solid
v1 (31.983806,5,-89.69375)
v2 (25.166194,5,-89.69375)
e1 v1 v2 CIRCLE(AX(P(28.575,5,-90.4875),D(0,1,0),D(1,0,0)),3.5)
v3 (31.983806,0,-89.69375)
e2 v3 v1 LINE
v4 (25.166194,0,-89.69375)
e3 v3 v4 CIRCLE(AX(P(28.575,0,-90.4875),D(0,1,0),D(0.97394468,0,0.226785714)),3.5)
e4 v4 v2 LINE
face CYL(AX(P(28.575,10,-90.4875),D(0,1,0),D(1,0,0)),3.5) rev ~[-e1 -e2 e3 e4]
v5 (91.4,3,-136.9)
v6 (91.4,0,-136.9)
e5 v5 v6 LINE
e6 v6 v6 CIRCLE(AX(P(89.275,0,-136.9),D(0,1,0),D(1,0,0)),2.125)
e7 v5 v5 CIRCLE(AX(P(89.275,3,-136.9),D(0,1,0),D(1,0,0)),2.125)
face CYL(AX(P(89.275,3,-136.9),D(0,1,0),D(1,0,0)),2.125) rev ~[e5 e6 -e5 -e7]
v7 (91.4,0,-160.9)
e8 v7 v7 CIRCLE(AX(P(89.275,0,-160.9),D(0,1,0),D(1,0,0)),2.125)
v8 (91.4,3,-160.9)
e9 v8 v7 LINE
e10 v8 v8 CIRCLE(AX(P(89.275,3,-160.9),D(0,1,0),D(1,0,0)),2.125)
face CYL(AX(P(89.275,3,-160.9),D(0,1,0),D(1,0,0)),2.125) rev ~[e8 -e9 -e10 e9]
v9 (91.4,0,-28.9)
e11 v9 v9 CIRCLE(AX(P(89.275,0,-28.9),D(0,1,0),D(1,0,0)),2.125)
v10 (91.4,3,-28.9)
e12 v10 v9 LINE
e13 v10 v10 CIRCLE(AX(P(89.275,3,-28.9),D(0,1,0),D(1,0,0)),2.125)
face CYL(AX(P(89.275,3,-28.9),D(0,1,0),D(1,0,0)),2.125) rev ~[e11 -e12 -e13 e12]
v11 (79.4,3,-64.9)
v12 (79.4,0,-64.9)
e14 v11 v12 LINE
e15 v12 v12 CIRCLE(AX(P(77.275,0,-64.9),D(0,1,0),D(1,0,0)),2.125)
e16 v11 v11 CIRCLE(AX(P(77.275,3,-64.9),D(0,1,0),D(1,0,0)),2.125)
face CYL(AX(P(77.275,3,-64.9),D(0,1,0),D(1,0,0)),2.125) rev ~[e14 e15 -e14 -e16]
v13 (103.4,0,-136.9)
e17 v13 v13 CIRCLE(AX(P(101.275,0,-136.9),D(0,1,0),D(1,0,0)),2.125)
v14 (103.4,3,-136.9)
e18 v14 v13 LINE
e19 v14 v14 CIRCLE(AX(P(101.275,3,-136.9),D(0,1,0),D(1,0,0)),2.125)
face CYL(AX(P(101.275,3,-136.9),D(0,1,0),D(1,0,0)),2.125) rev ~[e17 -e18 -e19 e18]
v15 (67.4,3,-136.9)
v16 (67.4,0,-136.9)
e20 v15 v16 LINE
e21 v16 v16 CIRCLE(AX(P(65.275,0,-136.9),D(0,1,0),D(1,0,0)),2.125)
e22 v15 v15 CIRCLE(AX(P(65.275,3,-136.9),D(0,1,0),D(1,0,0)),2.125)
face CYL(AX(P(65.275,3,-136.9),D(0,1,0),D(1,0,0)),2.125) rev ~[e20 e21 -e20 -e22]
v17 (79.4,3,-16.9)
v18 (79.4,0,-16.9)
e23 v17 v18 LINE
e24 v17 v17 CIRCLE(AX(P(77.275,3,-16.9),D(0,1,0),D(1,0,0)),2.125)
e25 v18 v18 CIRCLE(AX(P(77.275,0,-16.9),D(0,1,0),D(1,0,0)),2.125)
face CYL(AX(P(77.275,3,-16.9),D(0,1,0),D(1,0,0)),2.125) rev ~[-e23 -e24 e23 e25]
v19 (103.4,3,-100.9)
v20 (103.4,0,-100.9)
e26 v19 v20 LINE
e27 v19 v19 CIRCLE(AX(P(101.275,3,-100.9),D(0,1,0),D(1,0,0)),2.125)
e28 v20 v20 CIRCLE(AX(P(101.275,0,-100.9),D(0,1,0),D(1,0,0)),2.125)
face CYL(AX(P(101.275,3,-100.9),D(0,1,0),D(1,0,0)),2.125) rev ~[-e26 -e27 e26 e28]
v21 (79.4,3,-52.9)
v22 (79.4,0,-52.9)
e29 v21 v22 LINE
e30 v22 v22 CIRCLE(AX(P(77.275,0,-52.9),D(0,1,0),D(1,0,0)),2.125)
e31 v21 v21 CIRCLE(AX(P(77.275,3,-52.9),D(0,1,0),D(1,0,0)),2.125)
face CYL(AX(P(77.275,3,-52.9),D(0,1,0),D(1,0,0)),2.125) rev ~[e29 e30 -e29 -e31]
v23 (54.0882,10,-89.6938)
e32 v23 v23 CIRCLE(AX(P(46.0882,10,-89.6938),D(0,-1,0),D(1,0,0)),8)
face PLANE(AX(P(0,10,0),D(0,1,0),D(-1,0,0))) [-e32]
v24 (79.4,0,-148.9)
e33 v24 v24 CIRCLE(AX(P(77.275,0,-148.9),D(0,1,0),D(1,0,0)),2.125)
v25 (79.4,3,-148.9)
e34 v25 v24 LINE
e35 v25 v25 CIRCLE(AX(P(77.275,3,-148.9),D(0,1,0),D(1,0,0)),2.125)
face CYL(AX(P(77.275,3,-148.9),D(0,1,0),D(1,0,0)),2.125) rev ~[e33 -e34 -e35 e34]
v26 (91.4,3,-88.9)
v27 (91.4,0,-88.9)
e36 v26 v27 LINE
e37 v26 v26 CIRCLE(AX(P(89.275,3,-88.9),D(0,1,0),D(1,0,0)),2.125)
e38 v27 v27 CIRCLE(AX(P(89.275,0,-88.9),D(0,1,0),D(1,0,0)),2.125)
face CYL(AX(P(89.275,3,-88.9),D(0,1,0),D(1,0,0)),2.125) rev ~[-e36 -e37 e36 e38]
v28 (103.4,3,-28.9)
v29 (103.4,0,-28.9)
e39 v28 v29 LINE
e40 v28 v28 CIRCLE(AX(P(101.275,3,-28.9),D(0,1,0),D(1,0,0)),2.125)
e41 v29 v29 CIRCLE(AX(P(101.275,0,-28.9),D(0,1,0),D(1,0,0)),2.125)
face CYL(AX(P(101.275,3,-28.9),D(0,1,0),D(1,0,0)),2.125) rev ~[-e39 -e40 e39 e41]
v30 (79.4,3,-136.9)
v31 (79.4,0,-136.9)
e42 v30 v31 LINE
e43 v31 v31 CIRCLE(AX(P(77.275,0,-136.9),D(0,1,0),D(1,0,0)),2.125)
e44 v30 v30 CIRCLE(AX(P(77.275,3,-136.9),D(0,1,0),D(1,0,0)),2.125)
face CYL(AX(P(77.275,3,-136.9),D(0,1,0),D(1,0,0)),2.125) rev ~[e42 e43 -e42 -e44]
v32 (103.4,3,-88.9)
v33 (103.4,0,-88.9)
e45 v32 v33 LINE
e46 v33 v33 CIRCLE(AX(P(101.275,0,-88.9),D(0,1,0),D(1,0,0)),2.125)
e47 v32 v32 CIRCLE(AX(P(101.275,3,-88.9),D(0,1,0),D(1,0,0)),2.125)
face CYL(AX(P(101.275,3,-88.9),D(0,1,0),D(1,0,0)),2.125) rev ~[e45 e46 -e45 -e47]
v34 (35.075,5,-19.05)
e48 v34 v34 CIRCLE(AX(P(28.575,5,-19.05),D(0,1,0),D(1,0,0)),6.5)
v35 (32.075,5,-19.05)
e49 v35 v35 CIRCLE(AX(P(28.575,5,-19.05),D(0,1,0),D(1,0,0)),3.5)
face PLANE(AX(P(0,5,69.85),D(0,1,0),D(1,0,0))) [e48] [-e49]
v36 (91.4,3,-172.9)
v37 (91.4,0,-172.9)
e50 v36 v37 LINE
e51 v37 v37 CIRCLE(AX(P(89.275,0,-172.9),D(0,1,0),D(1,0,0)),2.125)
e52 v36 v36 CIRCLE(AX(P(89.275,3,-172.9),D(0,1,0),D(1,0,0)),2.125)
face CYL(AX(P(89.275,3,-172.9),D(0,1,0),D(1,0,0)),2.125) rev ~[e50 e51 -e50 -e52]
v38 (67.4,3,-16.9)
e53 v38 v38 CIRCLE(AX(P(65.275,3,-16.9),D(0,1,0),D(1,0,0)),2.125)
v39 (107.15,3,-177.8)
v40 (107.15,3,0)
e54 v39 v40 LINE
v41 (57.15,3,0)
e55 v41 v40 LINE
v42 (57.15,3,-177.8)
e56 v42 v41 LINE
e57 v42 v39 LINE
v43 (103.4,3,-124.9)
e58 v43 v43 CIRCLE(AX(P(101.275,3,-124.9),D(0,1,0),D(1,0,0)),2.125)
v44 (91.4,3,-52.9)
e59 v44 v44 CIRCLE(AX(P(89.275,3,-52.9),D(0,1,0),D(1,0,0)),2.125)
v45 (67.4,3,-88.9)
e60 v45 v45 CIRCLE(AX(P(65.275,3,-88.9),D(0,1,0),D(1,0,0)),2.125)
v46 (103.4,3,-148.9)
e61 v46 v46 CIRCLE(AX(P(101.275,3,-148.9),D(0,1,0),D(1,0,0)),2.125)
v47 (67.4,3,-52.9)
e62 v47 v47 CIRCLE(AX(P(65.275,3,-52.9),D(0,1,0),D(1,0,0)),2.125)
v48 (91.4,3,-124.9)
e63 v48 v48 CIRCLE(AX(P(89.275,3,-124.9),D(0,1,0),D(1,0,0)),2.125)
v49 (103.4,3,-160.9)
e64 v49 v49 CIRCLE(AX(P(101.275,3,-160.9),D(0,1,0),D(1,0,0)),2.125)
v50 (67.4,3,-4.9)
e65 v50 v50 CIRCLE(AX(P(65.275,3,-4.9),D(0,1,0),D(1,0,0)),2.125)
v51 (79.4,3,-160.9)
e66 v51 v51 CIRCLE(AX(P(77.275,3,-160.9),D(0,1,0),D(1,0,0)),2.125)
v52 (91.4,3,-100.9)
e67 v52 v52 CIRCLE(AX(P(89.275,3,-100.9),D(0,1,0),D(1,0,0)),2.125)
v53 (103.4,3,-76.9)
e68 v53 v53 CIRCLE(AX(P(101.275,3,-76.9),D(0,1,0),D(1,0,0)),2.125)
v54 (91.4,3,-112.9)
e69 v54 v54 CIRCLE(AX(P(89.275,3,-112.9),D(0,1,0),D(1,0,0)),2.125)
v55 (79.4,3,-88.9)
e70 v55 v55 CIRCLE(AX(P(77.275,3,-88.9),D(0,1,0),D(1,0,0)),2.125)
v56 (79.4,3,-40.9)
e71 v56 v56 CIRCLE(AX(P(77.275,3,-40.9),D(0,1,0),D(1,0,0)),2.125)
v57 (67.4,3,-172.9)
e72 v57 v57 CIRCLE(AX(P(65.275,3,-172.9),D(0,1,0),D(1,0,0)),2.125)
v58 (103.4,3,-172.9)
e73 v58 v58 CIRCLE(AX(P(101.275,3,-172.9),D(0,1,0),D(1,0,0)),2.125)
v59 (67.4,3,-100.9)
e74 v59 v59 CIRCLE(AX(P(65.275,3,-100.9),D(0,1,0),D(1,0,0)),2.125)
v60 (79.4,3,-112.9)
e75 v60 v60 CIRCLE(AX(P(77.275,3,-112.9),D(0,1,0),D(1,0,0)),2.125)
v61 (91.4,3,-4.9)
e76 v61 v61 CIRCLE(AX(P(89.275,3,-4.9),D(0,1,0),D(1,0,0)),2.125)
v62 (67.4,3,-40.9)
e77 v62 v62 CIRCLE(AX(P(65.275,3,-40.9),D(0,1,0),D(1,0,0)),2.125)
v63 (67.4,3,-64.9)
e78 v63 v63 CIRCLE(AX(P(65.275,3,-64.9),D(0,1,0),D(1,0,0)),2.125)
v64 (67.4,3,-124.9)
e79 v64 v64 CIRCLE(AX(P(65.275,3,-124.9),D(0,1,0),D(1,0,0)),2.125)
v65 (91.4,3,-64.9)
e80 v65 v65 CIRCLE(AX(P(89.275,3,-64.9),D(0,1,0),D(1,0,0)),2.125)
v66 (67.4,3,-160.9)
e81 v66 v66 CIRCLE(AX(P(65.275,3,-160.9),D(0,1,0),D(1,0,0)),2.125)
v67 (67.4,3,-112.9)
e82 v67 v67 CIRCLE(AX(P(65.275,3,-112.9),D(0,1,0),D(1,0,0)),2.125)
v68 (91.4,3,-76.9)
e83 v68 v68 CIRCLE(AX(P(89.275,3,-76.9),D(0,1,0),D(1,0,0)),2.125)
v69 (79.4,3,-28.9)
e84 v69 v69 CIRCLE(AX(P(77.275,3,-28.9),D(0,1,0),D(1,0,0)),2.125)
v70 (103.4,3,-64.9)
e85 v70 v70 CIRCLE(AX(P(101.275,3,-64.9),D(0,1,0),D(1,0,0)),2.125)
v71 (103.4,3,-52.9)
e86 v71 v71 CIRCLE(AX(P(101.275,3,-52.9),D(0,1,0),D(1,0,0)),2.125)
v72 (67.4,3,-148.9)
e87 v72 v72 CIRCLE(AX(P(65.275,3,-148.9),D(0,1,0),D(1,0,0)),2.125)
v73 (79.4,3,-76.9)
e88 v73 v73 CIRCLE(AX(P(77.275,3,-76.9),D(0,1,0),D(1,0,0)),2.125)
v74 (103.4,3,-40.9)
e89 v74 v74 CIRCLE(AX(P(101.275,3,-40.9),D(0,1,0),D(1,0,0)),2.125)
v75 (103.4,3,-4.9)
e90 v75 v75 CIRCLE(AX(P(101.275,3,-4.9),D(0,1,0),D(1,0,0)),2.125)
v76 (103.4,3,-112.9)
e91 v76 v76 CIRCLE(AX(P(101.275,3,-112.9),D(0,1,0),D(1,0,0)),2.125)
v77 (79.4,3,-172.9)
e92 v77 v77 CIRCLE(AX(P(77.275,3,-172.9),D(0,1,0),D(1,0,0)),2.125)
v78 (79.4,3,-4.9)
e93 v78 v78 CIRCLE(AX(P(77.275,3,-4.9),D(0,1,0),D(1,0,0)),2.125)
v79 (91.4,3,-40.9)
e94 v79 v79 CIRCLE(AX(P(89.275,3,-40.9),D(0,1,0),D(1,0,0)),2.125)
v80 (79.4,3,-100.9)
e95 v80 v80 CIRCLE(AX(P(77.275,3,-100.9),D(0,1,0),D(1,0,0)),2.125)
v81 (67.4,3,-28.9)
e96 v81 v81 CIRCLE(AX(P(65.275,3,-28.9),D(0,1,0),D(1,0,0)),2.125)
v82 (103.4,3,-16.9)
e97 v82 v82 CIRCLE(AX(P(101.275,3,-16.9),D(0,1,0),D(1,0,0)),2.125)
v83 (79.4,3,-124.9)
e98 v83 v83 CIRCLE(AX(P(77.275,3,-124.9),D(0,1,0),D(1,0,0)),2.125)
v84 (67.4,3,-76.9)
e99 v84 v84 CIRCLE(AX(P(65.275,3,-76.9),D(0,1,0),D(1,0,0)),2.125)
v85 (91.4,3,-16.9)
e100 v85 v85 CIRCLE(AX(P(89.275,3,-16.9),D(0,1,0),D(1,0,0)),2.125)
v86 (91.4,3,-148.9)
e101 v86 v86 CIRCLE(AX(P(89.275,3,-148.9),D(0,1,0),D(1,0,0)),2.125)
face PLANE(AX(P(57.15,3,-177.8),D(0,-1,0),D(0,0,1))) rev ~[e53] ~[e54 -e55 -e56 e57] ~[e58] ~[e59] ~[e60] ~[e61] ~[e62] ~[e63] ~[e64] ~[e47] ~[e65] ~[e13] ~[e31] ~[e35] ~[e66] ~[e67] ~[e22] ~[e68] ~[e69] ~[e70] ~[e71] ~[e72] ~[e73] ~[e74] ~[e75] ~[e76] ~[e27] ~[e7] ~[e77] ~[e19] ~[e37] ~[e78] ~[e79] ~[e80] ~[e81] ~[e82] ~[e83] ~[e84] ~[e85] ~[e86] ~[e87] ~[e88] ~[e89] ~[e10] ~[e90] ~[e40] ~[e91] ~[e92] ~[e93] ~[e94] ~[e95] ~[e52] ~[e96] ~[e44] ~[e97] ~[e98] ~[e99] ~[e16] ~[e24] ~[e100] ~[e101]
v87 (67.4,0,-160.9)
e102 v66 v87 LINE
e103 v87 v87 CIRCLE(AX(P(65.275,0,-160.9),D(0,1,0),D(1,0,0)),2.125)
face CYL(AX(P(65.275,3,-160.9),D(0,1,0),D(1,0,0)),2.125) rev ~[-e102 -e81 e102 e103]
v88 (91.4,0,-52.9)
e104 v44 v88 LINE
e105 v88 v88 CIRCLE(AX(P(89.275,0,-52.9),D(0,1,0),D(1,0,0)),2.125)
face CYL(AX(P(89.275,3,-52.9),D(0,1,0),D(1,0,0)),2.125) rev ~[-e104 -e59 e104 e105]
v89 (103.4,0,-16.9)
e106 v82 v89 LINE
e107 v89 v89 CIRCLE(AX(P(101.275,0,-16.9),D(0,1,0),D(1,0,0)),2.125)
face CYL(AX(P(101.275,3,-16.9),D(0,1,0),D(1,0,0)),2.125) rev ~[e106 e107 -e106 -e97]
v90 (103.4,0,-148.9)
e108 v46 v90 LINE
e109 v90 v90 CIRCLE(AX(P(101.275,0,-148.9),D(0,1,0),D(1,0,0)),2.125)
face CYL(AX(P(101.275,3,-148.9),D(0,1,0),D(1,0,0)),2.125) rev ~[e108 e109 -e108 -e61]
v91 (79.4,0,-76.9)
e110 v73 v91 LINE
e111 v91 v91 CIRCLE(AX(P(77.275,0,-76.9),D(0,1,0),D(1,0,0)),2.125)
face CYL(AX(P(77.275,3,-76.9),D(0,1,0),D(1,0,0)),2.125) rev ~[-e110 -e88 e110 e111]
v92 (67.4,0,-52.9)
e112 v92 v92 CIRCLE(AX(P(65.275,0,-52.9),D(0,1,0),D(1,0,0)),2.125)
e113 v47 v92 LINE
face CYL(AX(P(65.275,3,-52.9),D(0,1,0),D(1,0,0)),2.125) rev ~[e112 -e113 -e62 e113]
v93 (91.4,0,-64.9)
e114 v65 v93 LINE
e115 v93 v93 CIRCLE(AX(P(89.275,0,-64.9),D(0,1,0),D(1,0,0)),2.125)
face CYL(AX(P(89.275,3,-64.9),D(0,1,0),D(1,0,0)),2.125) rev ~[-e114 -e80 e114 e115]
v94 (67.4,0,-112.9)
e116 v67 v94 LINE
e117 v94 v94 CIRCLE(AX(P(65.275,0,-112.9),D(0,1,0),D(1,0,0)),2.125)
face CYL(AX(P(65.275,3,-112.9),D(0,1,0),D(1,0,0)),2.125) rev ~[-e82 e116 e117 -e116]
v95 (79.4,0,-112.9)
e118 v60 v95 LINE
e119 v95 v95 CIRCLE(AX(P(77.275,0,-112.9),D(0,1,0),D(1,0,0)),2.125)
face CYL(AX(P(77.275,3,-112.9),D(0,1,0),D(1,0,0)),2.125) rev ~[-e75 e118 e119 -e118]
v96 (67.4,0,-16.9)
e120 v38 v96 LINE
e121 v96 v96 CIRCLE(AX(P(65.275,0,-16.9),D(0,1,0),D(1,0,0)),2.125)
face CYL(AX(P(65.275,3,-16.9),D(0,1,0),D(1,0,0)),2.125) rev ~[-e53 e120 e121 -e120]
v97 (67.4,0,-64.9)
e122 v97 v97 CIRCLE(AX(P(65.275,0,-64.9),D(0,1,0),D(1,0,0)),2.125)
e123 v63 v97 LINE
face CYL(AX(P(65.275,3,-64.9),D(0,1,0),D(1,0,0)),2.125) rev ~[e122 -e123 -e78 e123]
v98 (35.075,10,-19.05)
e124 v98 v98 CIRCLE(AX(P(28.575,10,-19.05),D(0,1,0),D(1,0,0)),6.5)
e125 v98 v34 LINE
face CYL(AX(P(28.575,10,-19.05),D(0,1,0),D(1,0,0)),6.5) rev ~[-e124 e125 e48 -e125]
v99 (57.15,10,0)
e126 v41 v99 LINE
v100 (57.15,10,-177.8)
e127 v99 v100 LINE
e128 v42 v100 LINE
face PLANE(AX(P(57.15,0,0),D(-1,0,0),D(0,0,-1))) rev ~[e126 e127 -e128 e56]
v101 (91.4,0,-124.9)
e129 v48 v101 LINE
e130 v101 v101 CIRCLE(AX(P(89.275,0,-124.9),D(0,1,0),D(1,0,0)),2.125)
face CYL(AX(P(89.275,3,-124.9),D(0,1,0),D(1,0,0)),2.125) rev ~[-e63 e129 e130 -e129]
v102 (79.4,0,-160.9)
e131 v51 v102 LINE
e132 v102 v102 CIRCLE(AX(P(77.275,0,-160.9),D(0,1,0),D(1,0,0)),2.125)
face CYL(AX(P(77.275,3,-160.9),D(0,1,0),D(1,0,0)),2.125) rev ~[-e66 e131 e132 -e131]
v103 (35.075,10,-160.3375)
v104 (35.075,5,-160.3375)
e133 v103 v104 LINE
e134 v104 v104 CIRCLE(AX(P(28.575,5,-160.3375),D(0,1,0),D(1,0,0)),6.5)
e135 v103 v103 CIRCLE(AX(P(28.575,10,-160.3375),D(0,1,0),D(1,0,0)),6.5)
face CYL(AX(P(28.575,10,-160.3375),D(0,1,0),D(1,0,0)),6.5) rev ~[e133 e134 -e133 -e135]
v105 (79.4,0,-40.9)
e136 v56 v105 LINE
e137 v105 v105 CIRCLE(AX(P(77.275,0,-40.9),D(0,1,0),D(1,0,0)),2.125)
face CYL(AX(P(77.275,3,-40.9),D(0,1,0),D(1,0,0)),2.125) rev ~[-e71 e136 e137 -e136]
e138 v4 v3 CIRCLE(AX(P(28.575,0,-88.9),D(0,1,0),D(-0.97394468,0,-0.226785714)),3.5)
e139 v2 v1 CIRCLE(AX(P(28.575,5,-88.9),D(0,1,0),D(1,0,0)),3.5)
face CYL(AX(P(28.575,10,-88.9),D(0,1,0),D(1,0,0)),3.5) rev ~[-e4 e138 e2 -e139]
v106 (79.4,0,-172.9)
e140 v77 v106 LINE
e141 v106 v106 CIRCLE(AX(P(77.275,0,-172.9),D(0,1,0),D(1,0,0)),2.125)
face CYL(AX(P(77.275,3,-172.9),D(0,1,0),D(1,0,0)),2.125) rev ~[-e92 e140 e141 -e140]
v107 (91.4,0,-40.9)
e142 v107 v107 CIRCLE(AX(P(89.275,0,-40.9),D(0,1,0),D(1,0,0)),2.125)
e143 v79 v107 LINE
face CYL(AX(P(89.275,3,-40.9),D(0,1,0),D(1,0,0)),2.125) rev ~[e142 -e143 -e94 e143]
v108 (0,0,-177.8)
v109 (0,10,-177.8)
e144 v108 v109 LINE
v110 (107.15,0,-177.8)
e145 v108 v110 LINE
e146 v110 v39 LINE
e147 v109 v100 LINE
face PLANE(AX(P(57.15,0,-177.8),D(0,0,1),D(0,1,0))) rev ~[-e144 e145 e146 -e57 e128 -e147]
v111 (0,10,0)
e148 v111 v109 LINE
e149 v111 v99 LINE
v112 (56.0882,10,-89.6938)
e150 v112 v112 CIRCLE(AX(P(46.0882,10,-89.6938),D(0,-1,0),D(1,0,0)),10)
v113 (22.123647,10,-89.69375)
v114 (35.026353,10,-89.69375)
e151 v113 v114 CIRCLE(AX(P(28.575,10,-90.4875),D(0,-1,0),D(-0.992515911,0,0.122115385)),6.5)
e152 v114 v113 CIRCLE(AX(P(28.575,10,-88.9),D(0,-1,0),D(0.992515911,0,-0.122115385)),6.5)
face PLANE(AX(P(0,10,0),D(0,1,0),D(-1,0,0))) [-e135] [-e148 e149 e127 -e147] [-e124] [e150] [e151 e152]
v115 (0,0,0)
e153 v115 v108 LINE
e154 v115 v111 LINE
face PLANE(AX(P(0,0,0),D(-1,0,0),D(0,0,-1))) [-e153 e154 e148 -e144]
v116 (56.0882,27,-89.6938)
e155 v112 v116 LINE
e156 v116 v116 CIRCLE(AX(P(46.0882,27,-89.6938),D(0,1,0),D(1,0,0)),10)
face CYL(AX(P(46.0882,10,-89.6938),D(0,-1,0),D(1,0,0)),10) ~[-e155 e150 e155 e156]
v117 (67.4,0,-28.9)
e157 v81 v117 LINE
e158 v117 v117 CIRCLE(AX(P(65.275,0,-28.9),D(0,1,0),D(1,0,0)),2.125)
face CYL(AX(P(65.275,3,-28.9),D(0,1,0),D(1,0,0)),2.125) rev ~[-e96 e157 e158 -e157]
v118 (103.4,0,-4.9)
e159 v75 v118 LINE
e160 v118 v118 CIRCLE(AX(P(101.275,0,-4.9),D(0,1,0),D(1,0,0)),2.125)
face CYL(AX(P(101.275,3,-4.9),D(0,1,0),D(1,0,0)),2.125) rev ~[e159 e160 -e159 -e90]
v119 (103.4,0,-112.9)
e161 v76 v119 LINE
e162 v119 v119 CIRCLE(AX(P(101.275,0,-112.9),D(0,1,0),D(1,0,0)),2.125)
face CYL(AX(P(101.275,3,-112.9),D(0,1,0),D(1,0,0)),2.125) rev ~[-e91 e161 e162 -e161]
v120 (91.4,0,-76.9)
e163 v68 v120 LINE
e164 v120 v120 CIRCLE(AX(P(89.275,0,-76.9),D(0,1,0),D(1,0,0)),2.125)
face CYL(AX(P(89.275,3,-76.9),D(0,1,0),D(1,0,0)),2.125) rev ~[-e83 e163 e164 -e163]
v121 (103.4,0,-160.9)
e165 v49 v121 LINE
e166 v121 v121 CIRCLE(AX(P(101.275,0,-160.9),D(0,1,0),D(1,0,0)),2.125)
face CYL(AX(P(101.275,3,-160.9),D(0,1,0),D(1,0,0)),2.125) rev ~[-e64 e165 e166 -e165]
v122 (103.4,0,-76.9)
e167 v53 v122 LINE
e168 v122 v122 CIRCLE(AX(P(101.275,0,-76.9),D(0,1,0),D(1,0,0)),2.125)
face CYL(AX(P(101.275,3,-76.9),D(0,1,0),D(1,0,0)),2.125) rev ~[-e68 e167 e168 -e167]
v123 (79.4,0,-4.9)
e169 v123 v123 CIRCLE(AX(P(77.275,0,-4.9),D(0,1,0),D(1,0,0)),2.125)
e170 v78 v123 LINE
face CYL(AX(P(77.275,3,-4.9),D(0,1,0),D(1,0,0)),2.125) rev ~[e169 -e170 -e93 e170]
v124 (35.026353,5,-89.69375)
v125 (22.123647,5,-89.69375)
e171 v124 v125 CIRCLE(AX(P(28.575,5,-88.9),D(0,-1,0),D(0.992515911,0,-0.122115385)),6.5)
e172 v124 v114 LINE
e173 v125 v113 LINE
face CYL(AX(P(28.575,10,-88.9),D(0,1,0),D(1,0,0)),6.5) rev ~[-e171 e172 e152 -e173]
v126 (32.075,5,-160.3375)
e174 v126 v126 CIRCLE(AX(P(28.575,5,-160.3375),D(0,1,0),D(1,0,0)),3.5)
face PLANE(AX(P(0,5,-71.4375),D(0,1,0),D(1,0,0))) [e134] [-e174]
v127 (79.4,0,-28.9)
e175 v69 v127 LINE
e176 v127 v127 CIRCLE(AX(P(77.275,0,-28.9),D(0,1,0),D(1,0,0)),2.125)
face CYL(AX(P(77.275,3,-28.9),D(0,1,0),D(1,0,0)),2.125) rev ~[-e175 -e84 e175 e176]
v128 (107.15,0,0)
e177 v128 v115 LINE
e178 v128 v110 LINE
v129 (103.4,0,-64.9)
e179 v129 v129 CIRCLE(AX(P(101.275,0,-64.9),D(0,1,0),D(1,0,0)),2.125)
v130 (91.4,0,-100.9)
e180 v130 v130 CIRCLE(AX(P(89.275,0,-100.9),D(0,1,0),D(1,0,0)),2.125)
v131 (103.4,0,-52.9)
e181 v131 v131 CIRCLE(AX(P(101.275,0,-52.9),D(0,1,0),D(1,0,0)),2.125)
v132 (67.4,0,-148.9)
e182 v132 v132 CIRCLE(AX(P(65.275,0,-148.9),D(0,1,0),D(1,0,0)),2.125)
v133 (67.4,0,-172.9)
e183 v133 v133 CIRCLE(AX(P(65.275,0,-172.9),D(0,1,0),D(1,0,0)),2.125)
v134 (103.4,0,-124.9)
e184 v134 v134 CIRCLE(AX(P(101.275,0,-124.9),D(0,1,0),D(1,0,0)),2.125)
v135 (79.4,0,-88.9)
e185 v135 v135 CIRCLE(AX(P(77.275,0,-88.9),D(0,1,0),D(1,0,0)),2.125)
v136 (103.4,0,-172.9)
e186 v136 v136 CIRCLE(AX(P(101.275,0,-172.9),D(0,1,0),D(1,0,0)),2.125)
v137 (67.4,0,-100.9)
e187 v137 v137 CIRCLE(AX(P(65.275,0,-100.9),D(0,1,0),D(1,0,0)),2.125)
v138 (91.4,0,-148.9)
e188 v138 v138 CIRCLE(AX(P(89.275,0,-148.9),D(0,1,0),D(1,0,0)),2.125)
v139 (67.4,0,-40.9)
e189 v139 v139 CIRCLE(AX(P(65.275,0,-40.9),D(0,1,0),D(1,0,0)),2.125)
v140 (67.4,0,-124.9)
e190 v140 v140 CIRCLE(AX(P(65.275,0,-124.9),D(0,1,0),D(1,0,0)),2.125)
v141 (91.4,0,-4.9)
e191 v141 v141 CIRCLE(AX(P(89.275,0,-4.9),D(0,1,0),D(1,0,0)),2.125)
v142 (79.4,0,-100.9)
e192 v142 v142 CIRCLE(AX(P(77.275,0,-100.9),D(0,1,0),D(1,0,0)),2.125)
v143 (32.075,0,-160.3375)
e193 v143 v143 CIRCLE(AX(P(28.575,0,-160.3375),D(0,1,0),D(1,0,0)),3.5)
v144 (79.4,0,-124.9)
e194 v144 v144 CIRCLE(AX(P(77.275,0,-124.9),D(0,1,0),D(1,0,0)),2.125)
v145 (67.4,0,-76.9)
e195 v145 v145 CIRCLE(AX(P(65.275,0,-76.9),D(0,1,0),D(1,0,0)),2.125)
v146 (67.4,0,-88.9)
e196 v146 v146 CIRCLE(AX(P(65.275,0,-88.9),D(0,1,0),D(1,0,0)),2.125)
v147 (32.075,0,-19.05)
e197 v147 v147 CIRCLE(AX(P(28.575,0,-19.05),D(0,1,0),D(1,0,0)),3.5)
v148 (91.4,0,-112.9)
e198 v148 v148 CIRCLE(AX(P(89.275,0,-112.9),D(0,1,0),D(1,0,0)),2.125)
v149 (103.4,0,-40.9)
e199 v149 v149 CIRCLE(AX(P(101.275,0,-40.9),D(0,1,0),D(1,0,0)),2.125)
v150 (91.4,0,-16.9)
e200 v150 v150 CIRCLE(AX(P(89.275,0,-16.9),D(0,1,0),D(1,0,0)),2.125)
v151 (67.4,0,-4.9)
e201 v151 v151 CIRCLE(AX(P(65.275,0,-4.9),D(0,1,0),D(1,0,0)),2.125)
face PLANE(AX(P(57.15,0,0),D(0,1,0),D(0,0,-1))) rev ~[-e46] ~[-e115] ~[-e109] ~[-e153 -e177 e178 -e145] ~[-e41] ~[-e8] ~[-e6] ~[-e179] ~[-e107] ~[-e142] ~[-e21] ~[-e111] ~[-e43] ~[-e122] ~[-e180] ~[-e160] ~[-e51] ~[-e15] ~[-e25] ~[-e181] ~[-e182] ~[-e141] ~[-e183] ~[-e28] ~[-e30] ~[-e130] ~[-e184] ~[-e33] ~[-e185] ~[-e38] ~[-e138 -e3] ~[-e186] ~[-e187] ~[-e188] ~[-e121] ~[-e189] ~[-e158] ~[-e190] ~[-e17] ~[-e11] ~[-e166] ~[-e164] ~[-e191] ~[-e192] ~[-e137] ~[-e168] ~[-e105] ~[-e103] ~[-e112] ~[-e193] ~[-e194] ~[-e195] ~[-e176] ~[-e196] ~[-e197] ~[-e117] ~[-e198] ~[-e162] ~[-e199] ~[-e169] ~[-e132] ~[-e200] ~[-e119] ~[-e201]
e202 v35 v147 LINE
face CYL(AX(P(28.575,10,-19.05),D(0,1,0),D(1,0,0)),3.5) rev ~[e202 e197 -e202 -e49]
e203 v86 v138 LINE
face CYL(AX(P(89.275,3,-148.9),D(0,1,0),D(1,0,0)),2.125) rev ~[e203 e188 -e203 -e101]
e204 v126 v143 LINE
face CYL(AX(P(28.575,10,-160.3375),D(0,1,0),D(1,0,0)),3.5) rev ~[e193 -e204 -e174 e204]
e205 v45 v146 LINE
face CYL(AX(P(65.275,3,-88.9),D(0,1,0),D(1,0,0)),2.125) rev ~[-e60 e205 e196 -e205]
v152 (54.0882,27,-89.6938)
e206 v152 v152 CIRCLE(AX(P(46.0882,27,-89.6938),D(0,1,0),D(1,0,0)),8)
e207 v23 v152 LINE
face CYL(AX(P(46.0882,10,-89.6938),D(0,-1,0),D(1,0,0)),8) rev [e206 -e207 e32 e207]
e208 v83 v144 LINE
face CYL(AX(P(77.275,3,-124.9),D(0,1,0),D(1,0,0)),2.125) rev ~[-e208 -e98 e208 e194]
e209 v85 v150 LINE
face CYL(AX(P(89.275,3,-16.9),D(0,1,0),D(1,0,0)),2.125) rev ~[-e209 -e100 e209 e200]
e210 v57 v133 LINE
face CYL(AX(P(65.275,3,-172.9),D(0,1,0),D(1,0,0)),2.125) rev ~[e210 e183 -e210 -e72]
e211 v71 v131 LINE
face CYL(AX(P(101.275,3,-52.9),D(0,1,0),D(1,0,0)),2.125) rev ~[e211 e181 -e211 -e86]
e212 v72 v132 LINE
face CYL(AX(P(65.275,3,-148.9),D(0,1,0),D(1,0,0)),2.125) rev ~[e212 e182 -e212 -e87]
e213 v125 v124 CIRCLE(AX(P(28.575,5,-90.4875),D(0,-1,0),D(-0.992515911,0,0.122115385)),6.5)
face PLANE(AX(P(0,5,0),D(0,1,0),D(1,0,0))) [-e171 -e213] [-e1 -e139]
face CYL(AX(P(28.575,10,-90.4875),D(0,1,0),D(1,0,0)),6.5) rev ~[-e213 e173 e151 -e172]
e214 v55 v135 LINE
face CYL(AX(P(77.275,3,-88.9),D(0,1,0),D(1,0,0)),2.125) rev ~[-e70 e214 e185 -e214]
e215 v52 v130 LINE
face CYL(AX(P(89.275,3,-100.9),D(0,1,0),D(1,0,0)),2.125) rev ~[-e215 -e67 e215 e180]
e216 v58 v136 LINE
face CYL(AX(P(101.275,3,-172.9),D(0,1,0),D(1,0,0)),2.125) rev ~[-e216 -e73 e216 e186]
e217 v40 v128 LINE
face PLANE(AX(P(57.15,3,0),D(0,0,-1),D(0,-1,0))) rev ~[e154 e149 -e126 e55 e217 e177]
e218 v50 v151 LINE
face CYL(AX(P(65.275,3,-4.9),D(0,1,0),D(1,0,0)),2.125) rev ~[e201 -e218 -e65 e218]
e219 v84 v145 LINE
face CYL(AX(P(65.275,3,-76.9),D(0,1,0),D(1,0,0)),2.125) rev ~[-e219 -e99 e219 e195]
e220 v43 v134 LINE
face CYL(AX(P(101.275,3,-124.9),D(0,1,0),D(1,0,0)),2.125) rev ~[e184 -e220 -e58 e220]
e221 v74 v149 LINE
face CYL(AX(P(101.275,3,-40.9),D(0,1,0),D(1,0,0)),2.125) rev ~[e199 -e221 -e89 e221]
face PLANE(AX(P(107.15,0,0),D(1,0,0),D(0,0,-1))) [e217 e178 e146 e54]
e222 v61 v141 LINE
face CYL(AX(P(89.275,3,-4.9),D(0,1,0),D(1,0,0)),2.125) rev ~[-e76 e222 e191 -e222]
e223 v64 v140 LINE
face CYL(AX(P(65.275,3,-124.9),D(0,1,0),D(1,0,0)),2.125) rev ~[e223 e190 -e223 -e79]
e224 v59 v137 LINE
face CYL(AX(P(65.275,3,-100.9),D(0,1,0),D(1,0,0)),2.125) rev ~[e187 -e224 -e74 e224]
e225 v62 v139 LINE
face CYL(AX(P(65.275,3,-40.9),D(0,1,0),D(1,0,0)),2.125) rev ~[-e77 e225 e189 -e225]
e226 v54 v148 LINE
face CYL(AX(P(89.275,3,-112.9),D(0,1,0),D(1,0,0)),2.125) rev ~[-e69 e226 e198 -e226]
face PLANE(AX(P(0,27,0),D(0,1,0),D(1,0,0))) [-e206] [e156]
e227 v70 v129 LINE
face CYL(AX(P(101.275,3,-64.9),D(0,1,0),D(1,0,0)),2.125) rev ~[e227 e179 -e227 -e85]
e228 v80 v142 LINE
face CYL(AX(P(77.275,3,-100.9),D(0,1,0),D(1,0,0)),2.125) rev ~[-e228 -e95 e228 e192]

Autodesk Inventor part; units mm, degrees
ref_plane "YZ Plane" through (0, 0, 0) normal (1, 0, 0) x (0, 1, 0)
ref_plane "XZ Plane" through (0, 0, 0) normal (0, 1, 0) x (-1, 0, 0)
ref_plane "XY Plane" through (0, 0, 0) normal (0, 0, 1) x (1, 0, 0)
sketch "Sketch1" plane through (0, 0, 0) normal (0, 1, 0) x (-1, 0, 0)
  line L0 (0, 0) -> (0, -177.8)
  line L1 (0, -177.8) -> (-57.15, -177.8)
  line L2 (0, 0) -> (-57.15, 0)
  line L3 (-57.15, 0) -> (-57.15, -177.8)
  dimension "d0" = 177.8
  dimension "d1" = 57.15
extrude "Extrusion1" add sketch "Sketch1" along normal blind 10
sketch "Sketch2" plane through (0, 10, 0) normal (0, 1, 0) x (1, 0, 0)
  circle A0 centre (28.575, 88.9) radius 3.5
  point P0 (0, 0)
  dimension "d4" = 7
extrude "Extrusion2" cut sketch "Sketch2" against normal through all
pattern_linear "Rectangular Pattern1" count 2 spacing 71.4375 along (0, 0, -1) count 2 spacing 69.85 along (0, 0, 1) of "Extrusion2"
sketch "Sketch3" plane through (0, 10, 0) normal (0, 1, 0) x (1, 0, 0)
  arc A0 (25.1662, 89.6938) -> (31.9838, 89.6937) centre (28.575, 88.9) ccw projected
  circle A1 centre (28.575, 88.9) radius 6.5
  point P0 (0, 0)
  dimension "d13" = 13
extrude "Extrusion3" cut sketch "Sketch3" against normal blind 5
pattern_linear "Rectangular Pattern2" count 2 spacing 71.4375 along (0, 0, -1) count 2 spacing 69.85 along (0, 0, 1) of "Extrusion3"
sketch "Sketch4" plane through (57.15, 0, 0) normal (1, 0, 0) x (0, 0, -1)
  line L0 (177.8, 0) -> (177.8, 10) projected
  line L1 (0, 0) -> (177.8, 0)
  line L2 (177.8, 0) -> (177.8, 3)
  line L3 (177.8, 3) -> (0, 3)
  line L4 (0, 3) -> (0, 0)
  dimension "d22" = 3
extrude "Extrusion4" add sketch "Sketch4" along normal blind 50
sketch "Sketch5" plane through (57.15, 3, 0) normal (0, 1, 0) x (1, 0, 0)
  line L0 (50, 177.8) -> (50, 0) projected
  line L1 (0, 0) -> (0, 177.8) projected
  line L2 (0, 88.9) -> (8.125, 88.9)
  circle A0 centre (8.125, 88.9) radius 2.125
  point P0 (-57.15, 0)
  dimension "d25" = 8.125
  dimension "d26" = 4.25
extrude "Extrusion5" cut sketch "Sketch5" against normal through all
pattern_linear "Rectangular Pattern3" count 4 spacing 12 along (1, 0, 0) of "Extrusion5"
pattern_linear "Rectangular Pattern4" count 8 spacing 12 along (0, 0, 1) count 8 spacing 12 along (0, 0, -1) of "Extrusion5", "Rectangular Pattern3"
sketch "Sketch6" plane through (0, 10, 0) normal (0, 1, 0) x (1, 0, 0)
  arc A0 (25.1662, 89.6938) -> (31.9838, 89.6937) centre (28.575, 88.9) ccw projected
  line L0 (28.575, 85.4) -> (28.575, 93.9875)
  arc A1 (31.9838, 89.6937) -> (25.1662, 89.6938) centre (28.575, 90.4875) ccw projected
  line L1 (35.0264, 89.6938) -> (57.15, 89.6938)
  line L2 (57.15, 0) -> (57.15, 177.8) projected
  circle A2 centre (46.0882, 89.6938) radius 8
  circle A3 centre (46.0882, 89.6938) radius 10
  point P0 (0, 0)
  dimension "d38" = 16
  dimension "d39" = 20
extrude "Extrusion6" add sketch "Sketch6" along normal blind 17 contours A2 L1 A3 | L1 A3 A2
sketch "Sketch7" plane through (46.0882, 10, -89.6938) normal (0, 1, 0) x (1, 0, 0)
  circle A0 centre (0, 0) radius 8 projected
  line L0 (-8, 0) -> (8, 0)
  point P0 (-46.0882, -89.6938)
sketch "Sketch8" plane through (46.0882, 27, -89.6938) normal (0, 1, 0) x (1, 0, 0)
  point P0 (-46.0882, -89.6938)
properties part number "CraneBaseTest"
